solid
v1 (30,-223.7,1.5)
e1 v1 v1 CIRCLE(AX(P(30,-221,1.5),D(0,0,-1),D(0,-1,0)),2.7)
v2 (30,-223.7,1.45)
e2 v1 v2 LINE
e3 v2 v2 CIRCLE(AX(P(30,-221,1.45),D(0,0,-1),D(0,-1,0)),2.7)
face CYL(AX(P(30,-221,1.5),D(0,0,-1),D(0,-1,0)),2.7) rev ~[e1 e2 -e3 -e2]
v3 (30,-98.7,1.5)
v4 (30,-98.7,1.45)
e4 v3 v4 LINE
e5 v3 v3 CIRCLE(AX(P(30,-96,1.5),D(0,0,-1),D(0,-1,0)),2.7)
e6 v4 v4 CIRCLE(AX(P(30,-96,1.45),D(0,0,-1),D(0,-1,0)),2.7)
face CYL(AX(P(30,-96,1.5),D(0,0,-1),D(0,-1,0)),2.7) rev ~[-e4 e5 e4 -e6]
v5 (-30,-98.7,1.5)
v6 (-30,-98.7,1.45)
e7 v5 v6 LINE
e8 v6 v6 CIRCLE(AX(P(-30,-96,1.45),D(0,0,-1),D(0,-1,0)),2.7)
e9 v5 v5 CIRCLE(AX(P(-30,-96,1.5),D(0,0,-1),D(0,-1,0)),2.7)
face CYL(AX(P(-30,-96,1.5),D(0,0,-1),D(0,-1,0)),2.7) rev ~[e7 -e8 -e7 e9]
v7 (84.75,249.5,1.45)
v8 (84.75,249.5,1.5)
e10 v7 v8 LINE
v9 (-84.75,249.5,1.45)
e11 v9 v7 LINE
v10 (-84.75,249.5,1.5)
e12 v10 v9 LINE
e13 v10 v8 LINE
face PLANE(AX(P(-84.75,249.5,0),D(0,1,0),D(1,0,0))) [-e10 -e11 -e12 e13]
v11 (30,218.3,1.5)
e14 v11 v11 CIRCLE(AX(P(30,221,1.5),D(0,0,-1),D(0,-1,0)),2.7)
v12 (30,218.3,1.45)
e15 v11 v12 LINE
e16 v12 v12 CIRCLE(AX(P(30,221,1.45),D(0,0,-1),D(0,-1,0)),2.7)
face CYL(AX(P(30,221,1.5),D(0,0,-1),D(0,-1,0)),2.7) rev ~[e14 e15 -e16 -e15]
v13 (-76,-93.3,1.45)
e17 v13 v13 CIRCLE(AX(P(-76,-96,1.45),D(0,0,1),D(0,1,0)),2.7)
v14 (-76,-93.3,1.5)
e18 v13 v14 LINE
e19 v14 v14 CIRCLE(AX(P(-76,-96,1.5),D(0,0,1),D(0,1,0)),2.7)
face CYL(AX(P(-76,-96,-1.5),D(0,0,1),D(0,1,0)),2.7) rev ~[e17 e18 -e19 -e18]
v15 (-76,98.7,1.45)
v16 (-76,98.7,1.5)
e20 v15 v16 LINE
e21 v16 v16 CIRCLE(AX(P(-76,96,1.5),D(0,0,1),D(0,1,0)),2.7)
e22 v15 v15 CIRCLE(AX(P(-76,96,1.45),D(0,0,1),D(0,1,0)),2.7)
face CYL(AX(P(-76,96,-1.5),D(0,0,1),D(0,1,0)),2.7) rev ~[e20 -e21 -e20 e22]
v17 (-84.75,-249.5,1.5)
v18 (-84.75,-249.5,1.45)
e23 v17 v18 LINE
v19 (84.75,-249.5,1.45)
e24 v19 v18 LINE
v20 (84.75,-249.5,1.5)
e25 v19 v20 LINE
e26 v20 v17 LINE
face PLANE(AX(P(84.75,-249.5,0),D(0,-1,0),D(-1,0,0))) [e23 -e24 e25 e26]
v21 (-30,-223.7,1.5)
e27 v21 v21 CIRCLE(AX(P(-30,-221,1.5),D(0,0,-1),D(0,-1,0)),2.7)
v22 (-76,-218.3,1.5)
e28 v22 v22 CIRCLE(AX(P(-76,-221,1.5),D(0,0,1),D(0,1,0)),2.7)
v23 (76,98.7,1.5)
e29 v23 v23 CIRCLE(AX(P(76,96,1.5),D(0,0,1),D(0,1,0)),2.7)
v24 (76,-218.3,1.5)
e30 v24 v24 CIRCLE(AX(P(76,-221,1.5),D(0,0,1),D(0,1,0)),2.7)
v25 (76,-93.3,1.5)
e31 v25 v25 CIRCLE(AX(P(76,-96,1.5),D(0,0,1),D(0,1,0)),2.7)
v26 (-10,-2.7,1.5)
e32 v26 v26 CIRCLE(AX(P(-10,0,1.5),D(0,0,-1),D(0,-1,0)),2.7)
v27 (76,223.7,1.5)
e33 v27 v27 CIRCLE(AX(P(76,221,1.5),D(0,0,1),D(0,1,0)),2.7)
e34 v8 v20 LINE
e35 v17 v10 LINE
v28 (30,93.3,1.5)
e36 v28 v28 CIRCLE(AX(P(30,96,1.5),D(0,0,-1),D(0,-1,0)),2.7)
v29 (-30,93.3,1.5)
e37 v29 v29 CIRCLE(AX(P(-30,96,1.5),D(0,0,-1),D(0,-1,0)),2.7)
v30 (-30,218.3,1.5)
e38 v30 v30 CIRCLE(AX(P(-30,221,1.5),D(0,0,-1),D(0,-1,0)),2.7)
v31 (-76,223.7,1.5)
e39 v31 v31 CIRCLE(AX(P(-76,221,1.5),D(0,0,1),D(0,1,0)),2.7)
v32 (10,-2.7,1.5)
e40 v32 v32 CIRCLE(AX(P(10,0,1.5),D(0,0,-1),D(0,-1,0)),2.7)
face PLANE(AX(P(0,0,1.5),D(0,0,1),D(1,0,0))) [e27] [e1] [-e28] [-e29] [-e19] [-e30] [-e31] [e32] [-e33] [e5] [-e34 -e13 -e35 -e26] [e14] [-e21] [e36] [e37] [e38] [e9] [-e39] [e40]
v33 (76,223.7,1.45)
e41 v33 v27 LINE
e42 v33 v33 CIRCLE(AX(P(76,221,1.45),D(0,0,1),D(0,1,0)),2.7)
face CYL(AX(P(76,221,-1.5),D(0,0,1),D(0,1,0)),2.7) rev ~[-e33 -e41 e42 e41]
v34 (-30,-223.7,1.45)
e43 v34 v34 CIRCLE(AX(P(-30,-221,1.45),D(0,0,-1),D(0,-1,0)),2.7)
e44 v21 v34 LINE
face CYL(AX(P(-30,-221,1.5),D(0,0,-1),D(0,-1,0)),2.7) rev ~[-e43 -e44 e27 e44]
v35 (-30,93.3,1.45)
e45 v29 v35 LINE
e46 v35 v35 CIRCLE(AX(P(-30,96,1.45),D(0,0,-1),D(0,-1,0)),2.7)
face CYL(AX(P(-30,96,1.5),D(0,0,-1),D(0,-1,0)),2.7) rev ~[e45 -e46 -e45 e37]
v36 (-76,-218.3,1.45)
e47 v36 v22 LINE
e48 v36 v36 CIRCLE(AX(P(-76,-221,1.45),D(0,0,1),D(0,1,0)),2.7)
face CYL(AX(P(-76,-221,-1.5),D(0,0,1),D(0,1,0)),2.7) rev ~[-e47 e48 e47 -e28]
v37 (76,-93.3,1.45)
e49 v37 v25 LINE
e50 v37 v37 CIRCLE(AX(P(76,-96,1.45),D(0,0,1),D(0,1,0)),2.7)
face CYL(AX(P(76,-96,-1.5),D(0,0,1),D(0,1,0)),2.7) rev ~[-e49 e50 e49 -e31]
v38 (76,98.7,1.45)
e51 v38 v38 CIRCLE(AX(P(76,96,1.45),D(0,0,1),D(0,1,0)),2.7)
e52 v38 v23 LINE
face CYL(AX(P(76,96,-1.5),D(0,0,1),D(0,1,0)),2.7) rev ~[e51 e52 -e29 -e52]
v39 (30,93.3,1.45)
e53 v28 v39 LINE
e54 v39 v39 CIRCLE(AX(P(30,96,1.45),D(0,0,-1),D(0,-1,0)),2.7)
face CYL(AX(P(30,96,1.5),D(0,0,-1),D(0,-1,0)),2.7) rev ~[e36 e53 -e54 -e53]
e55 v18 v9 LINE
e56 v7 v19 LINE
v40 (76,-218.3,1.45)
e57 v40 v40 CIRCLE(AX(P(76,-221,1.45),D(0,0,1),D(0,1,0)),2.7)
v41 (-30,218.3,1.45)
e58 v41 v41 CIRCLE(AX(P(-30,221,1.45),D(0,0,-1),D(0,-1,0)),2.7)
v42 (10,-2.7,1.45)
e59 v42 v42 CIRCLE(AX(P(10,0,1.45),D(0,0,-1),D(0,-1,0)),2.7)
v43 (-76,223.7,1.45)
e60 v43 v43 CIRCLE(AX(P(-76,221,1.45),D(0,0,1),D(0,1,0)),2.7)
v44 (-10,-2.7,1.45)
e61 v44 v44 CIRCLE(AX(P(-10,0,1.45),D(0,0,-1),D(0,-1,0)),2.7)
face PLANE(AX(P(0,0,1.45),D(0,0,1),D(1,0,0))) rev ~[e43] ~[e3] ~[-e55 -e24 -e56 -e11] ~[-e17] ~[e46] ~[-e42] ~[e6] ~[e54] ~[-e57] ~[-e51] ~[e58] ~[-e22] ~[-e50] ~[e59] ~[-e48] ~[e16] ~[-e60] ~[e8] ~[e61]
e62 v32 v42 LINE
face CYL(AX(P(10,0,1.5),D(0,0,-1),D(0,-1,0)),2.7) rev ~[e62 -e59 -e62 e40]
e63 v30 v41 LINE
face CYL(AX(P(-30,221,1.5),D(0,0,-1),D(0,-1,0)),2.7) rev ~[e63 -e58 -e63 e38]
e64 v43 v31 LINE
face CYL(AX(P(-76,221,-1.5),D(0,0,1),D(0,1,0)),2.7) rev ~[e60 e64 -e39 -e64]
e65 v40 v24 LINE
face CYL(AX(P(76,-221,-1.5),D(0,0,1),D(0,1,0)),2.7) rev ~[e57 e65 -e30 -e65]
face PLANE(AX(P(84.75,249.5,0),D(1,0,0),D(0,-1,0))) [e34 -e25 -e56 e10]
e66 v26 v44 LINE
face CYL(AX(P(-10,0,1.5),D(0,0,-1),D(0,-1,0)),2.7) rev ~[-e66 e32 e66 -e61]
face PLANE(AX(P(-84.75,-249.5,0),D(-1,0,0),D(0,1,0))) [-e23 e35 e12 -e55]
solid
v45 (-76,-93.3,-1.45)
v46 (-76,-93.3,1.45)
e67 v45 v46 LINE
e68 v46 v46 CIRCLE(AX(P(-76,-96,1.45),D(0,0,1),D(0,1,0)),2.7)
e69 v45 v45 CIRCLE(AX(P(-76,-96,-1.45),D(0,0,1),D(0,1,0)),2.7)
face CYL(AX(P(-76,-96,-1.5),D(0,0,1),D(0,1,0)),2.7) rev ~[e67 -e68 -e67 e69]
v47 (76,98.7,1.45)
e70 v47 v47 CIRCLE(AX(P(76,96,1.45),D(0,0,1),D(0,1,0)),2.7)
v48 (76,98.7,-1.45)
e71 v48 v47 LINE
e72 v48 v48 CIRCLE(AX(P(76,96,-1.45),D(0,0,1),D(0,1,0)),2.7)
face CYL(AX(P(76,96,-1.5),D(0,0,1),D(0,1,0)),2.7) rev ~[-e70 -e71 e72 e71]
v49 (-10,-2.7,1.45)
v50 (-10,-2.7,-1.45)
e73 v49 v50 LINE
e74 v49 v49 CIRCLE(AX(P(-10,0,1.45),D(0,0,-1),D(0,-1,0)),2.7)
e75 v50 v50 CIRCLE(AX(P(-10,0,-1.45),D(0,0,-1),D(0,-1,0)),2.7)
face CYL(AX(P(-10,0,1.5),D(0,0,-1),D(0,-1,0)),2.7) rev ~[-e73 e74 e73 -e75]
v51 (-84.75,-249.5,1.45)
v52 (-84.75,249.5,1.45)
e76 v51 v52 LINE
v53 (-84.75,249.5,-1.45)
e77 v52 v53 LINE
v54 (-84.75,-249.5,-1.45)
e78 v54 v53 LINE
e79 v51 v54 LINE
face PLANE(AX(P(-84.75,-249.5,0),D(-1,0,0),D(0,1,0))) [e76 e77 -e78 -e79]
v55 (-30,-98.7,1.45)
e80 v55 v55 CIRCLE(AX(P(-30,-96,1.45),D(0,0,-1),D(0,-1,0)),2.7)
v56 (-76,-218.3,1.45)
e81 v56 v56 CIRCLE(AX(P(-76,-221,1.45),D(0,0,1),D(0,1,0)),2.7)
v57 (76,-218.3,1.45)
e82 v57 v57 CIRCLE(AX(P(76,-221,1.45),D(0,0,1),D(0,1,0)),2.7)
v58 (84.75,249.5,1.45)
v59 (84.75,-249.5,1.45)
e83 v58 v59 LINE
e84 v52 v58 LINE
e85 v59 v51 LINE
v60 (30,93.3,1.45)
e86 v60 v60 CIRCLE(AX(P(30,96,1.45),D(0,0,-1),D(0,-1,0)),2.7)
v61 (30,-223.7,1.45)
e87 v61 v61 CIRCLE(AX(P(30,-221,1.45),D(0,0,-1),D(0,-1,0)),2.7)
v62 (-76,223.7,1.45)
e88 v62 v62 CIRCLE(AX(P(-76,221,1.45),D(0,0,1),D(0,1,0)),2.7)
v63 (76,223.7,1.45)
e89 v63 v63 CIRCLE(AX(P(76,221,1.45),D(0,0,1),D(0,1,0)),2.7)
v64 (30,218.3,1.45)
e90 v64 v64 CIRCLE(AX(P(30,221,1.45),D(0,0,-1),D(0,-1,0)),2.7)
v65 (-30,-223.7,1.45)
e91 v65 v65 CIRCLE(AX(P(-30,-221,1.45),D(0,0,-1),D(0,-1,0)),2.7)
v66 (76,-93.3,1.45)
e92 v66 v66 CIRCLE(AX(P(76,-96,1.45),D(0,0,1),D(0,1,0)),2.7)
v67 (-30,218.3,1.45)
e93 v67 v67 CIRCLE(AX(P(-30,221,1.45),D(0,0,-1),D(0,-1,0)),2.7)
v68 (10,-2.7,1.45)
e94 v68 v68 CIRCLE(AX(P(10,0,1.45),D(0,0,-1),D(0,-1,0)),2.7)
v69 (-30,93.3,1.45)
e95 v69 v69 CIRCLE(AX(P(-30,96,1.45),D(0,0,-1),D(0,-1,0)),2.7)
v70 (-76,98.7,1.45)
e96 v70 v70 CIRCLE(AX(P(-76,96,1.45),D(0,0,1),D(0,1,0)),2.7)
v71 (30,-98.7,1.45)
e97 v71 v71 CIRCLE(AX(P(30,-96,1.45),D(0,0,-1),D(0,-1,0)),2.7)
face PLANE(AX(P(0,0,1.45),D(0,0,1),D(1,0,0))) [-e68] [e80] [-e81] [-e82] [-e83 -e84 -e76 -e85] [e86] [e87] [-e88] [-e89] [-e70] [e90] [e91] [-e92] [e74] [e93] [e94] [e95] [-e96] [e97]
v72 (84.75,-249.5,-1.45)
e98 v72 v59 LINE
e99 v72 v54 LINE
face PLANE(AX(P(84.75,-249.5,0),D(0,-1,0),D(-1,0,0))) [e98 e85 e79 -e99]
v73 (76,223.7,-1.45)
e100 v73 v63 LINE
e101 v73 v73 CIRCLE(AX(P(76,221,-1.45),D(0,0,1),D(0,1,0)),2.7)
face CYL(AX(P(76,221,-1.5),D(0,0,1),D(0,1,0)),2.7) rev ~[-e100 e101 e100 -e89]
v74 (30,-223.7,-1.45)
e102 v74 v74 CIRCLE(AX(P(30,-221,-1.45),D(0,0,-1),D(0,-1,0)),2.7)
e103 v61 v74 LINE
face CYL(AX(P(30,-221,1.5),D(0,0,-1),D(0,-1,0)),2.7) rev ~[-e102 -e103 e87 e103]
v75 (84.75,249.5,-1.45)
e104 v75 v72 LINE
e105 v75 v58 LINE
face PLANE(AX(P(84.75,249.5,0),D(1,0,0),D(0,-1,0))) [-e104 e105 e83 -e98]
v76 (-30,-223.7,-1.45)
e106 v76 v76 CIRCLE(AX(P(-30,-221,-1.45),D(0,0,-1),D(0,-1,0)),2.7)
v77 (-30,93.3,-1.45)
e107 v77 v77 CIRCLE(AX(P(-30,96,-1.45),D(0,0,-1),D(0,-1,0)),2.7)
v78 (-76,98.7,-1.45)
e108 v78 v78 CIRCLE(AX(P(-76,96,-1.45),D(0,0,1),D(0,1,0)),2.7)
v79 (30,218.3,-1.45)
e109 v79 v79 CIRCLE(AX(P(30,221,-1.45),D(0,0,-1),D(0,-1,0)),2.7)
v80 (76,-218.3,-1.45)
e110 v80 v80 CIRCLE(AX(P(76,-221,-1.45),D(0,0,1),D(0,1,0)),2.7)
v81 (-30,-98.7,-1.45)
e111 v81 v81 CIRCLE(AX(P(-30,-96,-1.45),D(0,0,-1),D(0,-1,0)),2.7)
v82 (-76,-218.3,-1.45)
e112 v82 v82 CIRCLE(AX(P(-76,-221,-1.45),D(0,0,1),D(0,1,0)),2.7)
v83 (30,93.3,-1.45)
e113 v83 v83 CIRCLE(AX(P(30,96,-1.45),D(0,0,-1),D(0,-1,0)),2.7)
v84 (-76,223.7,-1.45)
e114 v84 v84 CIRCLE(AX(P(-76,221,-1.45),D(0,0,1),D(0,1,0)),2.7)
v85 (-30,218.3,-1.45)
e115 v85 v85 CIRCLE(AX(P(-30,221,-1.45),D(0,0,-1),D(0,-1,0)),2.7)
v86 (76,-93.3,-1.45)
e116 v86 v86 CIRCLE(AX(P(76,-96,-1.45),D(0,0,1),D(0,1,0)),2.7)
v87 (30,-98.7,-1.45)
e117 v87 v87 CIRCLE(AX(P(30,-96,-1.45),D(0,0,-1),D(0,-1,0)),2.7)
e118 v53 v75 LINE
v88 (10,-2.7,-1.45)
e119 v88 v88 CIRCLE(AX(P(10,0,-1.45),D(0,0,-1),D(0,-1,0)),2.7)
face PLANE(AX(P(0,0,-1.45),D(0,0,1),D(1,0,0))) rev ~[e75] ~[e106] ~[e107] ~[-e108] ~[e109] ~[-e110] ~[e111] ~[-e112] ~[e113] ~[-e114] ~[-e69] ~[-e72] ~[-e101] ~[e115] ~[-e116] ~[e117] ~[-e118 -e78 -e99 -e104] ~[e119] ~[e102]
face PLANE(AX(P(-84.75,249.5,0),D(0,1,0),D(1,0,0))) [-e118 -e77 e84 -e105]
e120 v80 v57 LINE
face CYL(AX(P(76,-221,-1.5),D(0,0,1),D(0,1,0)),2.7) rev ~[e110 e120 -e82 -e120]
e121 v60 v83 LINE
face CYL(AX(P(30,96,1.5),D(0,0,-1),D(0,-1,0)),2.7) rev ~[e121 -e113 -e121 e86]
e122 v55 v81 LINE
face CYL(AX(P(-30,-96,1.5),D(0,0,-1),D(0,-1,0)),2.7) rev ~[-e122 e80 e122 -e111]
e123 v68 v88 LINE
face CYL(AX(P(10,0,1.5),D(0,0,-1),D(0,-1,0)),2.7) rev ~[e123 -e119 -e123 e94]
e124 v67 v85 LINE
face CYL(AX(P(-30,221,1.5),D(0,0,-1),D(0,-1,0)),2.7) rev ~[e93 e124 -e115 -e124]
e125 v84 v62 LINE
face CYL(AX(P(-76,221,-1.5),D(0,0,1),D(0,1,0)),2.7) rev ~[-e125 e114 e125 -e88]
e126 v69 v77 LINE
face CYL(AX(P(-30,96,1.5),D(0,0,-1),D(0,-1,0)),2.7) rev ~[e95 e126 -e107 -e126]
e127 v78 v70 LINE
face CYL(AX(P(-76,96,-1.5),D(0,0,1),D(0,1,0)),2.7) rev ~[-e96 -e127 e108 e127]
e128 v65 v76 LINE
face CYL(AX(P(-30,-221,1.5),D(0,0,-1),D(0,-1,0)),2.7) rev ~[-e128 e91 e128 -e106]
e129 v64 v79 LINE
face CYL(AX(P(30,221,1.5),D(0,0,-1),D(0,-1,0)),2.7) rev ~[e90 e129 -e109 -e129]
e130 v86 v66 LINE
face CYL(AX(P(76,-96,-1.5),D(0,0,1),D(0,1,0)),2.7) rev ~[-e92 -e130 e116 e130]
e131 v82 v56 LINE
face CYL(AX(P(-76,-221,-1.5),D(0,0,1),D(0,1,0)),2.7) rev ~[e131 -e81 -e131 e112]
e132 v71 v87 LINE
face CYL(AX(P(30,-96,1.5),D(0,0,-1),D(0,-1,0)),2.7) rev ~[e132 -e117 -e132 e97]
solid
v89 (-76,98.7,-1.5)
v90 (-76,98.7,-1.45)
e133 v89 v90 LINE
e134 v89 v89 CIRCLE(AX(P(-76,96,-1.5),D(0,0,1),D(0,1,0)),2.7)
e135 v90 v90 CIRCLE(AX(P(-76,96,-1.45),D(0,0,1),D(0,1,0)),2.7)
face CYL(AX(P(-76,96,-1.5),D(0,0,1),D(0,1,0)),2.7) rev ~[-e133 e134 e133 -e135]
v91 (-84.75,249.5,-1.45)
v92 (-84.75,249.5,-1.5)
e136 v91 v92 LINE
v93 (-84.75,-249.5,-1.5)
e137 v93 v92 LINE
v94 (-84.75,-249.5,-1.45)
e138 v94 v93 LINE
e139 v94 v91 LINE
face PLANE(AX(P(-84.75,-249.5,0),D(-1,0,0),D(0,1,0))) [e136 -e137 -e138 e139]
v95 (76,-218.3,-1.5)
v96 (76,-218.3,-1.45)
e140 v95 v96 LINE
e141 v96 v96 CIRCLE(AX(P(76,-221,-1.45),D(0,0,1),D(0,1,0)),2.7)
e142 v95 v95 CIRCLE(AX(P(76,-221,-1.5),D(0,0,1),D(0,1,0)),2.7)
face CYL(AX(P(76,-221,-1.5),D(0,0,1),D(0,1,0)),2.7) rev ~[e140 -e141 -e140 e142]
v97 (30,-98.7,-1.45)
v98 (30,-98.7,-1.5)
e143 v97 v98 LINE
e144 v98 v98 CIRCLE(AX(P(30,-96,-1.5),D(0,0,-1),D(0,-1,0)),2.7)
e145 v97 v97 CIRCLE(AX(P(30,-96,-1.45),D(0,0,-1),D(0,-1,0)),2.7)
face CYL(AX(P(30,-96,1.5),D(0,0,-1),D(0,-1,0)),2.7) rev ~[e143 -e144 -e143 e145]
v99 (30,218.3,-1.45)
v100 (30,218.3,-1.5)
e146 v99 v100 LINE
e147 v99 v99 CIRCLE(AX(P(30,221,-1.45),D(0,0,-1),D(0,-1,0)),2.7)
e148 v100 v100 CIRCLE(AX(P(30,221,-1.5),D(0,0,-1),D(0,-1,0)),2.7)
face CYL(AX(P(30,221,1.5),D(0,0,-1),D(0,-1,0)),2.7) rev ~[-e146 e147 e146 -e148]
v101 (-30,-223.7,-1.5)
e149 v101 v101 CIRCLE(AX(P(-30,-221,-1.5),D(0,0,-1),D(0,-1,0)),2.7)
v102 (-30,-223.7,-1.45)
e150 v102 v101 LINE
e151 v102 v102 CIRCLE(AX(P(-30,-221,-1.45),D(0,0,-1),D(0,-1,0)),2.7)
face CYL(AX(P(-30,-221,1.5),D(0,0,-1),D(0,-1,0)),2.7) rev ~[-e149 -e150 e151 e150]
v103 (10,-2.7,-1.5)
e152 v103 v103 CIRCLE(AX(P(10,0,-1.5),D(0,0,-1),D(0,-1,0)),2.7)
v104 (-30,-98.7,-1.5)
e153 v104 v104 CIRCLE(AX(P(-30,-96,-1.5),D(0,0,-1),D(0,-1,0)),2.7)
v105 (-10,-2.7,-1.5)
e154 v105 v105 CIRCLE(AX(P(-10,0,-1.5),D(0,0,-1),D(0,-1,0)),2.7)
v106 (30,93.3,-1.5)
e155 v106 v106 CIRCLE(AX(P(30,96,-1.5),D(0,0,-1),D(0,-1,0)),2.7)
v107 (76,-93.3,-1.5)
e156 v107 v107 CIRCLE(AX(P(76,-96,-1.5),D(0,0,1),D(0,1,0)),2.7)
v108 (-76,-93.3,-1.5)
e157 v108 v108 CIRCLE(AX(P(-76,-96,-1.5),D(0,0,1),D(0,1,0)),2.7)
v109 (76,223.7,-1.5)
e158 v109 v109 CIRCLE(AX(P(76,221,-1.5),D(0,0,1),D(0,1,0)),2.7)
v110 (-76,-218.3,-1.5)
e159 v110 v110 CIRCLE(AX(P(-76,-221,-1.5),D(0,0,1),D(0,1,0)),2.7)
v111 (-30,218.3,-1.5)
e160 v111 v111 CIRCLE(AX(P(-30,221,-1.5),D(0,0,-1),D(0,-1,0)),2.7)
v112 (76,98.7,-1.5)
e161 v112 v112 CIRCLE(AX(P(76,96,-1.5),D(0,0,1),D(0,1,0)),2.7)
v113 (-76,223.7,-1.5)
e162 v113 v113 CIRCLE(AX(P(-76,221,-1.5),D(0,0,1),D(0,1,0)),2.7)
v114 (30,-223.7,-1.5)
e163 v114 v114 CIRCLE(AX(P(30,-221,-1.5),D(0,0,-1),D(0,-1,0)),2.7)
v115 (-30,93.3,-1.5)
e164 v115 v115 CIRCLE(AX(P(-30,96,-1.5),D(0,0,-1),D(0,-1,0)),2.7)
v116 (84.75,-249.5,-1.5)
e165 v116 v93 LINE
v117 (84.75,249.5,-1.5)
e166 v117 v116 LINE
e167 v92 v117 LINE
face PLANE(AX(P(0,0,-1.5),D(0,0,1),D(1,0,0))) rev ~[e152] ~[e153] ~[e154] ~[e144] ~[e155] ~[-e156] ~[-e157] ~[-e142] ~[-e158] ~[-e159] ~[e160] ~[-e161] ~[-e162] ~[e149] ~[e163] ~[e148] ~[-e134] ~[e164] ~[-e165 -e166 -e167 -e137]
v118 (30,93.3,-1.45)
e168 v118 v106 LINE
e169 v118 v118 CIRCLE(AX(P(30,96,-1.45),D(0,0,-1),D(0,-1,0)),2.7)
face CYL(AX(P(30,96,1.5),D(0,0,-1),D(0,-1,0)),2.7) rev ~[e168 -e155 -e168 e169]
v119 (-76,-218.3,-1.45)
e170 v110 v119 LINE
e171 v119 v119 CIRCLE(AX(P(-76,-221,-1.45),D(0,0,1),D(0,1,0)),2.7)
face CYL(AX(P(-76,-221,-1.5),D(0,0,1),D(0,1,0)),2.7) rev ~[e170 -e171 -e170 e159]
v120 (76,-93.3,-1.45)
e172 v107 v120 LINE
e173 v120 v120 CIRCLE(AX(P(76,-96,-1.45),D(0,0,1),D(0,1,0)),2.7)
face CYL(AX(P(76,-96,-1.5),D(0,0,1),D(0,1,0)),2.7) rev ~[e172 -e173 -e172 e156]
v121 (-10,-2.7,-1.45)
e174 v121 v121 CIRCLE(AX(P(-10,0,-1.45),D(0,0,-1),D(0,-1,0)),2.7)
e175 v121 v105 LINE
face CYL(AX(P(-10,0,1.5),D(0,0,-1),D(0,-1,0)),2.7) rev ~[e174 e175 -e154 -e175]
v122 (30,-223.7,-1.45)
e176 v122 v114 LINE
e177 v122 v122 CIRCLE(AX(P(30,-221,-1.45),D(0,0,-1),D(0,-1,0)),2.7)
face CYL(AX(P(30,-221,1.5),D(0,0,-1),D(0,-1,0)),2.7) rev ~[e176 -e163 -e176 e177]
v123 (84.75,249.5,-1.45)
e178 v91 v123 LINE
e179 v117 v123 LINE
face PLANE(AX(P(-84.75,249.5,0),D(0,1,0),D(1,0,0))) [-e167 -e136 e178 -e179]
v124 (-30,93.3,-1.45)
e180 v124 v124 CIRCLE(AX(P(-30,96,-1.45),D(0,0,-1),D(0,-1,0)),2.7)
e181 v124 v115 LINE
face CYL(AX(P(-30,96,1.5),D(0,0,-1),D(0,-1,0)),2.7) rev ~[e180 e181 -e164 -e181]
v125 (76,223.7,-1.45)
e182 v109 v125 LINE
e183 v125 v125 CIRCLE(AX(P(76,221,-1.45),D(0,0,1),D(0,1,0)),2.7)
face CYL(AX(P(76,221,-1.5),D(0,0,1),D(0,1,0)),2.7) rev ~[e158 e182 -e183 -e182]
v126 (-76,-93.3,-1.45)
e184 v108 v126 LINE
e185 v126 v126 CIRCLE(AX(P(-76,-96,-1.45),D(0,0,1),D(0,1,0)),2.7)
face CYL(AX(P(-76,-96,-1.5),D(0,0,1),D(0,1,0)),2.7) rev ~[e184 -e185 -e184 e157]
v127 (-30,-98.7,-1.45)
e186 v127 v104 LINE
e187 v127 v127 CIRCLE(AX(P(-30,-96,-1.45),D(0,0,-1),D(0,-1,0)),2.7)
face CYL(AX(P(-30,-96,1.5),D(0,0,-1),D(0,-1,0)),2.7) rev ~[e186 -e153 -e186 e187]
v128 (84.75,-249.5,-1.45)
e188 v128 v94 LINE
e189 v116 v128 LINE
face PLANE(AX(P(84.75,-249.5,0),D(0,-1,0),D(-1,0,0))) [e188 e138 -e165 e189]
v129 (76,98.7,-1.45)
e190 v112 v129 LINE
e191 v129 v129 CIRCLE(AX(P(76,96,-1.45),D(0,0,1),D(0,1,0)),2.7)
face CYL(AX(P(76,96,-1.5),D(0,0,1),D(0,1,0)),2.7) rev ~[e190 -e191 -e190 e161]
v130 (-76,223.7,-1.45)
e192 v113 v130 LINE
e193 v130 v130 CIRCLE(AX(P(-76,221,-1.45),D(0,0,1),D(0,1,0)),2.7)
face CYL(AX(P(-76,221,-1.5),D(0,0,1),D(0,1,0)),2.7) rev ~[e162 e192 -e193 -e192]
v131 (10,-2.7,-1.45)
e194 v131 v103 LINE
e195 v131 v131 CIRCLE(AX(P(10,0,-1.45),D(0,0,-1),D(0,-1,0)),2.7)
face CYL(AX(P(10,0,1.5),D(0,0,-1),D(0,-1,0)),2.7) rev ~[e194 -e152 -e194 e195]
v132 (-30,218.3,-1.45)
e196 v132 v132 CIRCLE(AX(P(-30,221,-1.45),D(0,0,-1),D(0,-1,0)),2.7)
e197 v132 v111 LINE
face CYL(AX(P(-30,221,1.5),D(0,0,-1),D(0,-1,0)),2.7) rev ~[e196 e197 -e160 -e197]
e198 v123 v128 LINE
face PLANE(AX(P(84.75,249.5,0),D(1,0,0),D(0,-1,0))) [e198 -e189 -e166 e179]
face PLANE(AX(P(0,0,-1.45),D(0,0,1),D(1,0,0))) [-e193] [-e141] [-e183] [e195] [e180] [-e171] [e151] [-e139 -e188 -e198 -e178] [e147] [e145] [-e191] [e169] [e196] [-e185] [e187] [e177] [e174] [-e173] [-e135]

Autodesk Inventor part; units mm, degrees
ref_plane "YZ Plane" through (0, 0, 0) normal (1, 0, 0) x (0, 1, 0)
ref_plane "XZ Plane" through (0, 0, 0) normal (0, 1, 0) x (-1, 0, 0)
ref_plane "XY Plane" through (0, 0, 0) normal (0, 0, 1) x (1, 0, 0)
sketch "Sketch1" plane through (0, 0, 0) normal (0, 0, 1) x (1, 0, 0)
  line L0 (84.75, -249.5) -> (-84.75, -249.5)
  line L1 (-84.75, -249.5) -> (-84.75, 249.5)
  line L2 (-84.75, 249.5) -> (84.75, 249.5)
  line L3 (84.75, 249.5) -> (84.75, -249.5)
  line L4 (84.75, -249.5) -> (-84.75, 249.5) construction
  line L5 (-84.75, -249.5) -> (84.75, 249.5) construction
  point P0 (0, 0)
  dimension "d0" = 169.5
  dimension "d1" = 499
extrude "Extrusion1" add sketch "Sketch1" along normal mid plane 3
extrude "Extrusion2" cut sketch "Sketch1" along normal mid plane 2.9
extrude "Extrusion3" add sketch "Sketch1" along normal mid plane 2.9 separate body
sketch "Sketch4" plane through (0, 0, 1.5) normal (0, 0, 1) x (1, 0, 0)
  line L0 (30, -221) -> (-30, -221)
  line L1 (-30, -221) -> (-30, 221)
  line L2 (-30, 221) -> (30, 221)
  line L3 (30, 221) -> (30, -221)
  line L4 (30, -221) -> (-30, 221) construction
  line L5 (-30, -221) -> (30, 221) construction
  line L6 (30, -96) -> (-30, -96)
  line L7 (-30, -96) -> (-30, 96)
  line L8 (-30, 96) -> (30, 96)
  line L9 (30, 96) -> (30, -96)
  line L10 (30, -96) -> (-30, 96) construction
  line L11 (-30, -96) -> (30, 96) construction
  line L12 (-10, 0) -> (10, 0) construction
  point P0 (0, 0)
  dimension "d28" = 60
  dimension "d29" = 442
  dimension "d30" = 125
  dimension "d31" = 20
hole "Hole2" at (-30, 221, 1.5) at (30, 221, 1.5) at (-30, 96, 1.5) at (30, 96, 1.5) at (-30, -96, 1.5) at (30, -96, 1.5) at (30, -221, 1.5) at (-30, -221, 1.5) at (-10, 0, 1.5) at (10, 0, 1.5) direction (0, 0, -1) diameter 5.4 end through all bodies 1 2
sketch "Sketch5" plane through (0, 0, -1.5) normal (0, 0, -1) x (-1, 0, 0)
  line L0 (-76, -96) -> (76, -96) construction
  line L1 (76, -96) -> (76, 96) construction
  line L2 (76, 96) -> (-76, 96) construction
  line L3 (-76, 96) -> (-76, -96) construction
  line L4 (-76, -96) -> (76, 96) construction
  line L5 (76, -96) -> (-76, 96) construction
  line L6 (-76, -221) -> (76, -221) construction
  line L7 (76, -221) -> (76, 221) construction
  line L8 (76, 221) -> (-76, 221) construction
  line L9 (-76, 221) -> (-76, -221) construction
  line L10 (-76, -221) -> (76, 221) construction
  line L11 (76, -221) -> (-76, 221) construction
  circle A0 centre (30, 96) radius 2.7 projected
  circle A1 centre (30, 221) radius 2.7 projected
  point P0 (0, 0)
  dimension "d39" = 152
hole "Hole3" at (-76, 221, -1.5) at (76, 221, -1.5) at (76, 96, -1.5) at (-76, 96, -1.5) at (-76, -96, -1.5) at (76, -96, -1.5) at (76, -221, -1.5) at (-76, -221, -1.5) direction (0, 0, 1) diameter 5.4 end through all bodies 1 2
sketch "Sketch2" plane through (0, 0, 1.5) normal (0, 0, 1) x (1, 0, 0)
  line L0 (-84.75, -249.5) -> (84.75, -249.5) projected
  line L1 (60, -115) -> (-60, -115) construction
  line L2 (-60, -115) -> (-60, 135) construction
  line L3 (-60, 135) -> (60, 135) construction
  line L4 (60, 135) -> (60, -115) construction
  line L5 (60, -115) -> (-60, 135) construction
  line L6 (-60, -115) -> (60, 135) construction
  point P0 (0, 0)
  point P1 (0, 10)
  point P2 (0, 135)
  point P3 (-60, 10)
  point P4 (60, 10)
  point P5 (0, -115)
  point P6 (60, 10)
  point P7 (0, 10)
  point P8 (-60, 10)
  dimension "d19" = 250
  dimension "d20" = 120
  dimension "d22" = 10
sketch "Sketch3" plane through (0, 0, 1.5) normal (0, 0, 1) x (1, 0, 0)
  line L0 (-12, -249.5) -> (12, -249.5)
  line L1 (12, -249.5) -> (12, -246.875)
  line L2 (11, -245.875) -> (-11, -245.875)
  line L3 (-12, -246.875) -> (-12, -249.5)
  line L4 (-84.75, -249.5) -> (84.75, -249.5) projected
  arc A0 (-11, -245.875) -> (-12, -246.875) centre (-11, -246.875) ccw
  arc A1 (12, -246.875) -> (11, -245.875) centre (11, -246.875) ccw
  point P0 (0, 0)
  point P1 (12, -245.875)
  point P2 (-12, -245.875)
  point P3 (0, -249.5)
  dimension "d23" = 24
  dimension "d24" = 3.625
  dimension "d27" = 1
properties part number "Rear Internal Side Panel"
